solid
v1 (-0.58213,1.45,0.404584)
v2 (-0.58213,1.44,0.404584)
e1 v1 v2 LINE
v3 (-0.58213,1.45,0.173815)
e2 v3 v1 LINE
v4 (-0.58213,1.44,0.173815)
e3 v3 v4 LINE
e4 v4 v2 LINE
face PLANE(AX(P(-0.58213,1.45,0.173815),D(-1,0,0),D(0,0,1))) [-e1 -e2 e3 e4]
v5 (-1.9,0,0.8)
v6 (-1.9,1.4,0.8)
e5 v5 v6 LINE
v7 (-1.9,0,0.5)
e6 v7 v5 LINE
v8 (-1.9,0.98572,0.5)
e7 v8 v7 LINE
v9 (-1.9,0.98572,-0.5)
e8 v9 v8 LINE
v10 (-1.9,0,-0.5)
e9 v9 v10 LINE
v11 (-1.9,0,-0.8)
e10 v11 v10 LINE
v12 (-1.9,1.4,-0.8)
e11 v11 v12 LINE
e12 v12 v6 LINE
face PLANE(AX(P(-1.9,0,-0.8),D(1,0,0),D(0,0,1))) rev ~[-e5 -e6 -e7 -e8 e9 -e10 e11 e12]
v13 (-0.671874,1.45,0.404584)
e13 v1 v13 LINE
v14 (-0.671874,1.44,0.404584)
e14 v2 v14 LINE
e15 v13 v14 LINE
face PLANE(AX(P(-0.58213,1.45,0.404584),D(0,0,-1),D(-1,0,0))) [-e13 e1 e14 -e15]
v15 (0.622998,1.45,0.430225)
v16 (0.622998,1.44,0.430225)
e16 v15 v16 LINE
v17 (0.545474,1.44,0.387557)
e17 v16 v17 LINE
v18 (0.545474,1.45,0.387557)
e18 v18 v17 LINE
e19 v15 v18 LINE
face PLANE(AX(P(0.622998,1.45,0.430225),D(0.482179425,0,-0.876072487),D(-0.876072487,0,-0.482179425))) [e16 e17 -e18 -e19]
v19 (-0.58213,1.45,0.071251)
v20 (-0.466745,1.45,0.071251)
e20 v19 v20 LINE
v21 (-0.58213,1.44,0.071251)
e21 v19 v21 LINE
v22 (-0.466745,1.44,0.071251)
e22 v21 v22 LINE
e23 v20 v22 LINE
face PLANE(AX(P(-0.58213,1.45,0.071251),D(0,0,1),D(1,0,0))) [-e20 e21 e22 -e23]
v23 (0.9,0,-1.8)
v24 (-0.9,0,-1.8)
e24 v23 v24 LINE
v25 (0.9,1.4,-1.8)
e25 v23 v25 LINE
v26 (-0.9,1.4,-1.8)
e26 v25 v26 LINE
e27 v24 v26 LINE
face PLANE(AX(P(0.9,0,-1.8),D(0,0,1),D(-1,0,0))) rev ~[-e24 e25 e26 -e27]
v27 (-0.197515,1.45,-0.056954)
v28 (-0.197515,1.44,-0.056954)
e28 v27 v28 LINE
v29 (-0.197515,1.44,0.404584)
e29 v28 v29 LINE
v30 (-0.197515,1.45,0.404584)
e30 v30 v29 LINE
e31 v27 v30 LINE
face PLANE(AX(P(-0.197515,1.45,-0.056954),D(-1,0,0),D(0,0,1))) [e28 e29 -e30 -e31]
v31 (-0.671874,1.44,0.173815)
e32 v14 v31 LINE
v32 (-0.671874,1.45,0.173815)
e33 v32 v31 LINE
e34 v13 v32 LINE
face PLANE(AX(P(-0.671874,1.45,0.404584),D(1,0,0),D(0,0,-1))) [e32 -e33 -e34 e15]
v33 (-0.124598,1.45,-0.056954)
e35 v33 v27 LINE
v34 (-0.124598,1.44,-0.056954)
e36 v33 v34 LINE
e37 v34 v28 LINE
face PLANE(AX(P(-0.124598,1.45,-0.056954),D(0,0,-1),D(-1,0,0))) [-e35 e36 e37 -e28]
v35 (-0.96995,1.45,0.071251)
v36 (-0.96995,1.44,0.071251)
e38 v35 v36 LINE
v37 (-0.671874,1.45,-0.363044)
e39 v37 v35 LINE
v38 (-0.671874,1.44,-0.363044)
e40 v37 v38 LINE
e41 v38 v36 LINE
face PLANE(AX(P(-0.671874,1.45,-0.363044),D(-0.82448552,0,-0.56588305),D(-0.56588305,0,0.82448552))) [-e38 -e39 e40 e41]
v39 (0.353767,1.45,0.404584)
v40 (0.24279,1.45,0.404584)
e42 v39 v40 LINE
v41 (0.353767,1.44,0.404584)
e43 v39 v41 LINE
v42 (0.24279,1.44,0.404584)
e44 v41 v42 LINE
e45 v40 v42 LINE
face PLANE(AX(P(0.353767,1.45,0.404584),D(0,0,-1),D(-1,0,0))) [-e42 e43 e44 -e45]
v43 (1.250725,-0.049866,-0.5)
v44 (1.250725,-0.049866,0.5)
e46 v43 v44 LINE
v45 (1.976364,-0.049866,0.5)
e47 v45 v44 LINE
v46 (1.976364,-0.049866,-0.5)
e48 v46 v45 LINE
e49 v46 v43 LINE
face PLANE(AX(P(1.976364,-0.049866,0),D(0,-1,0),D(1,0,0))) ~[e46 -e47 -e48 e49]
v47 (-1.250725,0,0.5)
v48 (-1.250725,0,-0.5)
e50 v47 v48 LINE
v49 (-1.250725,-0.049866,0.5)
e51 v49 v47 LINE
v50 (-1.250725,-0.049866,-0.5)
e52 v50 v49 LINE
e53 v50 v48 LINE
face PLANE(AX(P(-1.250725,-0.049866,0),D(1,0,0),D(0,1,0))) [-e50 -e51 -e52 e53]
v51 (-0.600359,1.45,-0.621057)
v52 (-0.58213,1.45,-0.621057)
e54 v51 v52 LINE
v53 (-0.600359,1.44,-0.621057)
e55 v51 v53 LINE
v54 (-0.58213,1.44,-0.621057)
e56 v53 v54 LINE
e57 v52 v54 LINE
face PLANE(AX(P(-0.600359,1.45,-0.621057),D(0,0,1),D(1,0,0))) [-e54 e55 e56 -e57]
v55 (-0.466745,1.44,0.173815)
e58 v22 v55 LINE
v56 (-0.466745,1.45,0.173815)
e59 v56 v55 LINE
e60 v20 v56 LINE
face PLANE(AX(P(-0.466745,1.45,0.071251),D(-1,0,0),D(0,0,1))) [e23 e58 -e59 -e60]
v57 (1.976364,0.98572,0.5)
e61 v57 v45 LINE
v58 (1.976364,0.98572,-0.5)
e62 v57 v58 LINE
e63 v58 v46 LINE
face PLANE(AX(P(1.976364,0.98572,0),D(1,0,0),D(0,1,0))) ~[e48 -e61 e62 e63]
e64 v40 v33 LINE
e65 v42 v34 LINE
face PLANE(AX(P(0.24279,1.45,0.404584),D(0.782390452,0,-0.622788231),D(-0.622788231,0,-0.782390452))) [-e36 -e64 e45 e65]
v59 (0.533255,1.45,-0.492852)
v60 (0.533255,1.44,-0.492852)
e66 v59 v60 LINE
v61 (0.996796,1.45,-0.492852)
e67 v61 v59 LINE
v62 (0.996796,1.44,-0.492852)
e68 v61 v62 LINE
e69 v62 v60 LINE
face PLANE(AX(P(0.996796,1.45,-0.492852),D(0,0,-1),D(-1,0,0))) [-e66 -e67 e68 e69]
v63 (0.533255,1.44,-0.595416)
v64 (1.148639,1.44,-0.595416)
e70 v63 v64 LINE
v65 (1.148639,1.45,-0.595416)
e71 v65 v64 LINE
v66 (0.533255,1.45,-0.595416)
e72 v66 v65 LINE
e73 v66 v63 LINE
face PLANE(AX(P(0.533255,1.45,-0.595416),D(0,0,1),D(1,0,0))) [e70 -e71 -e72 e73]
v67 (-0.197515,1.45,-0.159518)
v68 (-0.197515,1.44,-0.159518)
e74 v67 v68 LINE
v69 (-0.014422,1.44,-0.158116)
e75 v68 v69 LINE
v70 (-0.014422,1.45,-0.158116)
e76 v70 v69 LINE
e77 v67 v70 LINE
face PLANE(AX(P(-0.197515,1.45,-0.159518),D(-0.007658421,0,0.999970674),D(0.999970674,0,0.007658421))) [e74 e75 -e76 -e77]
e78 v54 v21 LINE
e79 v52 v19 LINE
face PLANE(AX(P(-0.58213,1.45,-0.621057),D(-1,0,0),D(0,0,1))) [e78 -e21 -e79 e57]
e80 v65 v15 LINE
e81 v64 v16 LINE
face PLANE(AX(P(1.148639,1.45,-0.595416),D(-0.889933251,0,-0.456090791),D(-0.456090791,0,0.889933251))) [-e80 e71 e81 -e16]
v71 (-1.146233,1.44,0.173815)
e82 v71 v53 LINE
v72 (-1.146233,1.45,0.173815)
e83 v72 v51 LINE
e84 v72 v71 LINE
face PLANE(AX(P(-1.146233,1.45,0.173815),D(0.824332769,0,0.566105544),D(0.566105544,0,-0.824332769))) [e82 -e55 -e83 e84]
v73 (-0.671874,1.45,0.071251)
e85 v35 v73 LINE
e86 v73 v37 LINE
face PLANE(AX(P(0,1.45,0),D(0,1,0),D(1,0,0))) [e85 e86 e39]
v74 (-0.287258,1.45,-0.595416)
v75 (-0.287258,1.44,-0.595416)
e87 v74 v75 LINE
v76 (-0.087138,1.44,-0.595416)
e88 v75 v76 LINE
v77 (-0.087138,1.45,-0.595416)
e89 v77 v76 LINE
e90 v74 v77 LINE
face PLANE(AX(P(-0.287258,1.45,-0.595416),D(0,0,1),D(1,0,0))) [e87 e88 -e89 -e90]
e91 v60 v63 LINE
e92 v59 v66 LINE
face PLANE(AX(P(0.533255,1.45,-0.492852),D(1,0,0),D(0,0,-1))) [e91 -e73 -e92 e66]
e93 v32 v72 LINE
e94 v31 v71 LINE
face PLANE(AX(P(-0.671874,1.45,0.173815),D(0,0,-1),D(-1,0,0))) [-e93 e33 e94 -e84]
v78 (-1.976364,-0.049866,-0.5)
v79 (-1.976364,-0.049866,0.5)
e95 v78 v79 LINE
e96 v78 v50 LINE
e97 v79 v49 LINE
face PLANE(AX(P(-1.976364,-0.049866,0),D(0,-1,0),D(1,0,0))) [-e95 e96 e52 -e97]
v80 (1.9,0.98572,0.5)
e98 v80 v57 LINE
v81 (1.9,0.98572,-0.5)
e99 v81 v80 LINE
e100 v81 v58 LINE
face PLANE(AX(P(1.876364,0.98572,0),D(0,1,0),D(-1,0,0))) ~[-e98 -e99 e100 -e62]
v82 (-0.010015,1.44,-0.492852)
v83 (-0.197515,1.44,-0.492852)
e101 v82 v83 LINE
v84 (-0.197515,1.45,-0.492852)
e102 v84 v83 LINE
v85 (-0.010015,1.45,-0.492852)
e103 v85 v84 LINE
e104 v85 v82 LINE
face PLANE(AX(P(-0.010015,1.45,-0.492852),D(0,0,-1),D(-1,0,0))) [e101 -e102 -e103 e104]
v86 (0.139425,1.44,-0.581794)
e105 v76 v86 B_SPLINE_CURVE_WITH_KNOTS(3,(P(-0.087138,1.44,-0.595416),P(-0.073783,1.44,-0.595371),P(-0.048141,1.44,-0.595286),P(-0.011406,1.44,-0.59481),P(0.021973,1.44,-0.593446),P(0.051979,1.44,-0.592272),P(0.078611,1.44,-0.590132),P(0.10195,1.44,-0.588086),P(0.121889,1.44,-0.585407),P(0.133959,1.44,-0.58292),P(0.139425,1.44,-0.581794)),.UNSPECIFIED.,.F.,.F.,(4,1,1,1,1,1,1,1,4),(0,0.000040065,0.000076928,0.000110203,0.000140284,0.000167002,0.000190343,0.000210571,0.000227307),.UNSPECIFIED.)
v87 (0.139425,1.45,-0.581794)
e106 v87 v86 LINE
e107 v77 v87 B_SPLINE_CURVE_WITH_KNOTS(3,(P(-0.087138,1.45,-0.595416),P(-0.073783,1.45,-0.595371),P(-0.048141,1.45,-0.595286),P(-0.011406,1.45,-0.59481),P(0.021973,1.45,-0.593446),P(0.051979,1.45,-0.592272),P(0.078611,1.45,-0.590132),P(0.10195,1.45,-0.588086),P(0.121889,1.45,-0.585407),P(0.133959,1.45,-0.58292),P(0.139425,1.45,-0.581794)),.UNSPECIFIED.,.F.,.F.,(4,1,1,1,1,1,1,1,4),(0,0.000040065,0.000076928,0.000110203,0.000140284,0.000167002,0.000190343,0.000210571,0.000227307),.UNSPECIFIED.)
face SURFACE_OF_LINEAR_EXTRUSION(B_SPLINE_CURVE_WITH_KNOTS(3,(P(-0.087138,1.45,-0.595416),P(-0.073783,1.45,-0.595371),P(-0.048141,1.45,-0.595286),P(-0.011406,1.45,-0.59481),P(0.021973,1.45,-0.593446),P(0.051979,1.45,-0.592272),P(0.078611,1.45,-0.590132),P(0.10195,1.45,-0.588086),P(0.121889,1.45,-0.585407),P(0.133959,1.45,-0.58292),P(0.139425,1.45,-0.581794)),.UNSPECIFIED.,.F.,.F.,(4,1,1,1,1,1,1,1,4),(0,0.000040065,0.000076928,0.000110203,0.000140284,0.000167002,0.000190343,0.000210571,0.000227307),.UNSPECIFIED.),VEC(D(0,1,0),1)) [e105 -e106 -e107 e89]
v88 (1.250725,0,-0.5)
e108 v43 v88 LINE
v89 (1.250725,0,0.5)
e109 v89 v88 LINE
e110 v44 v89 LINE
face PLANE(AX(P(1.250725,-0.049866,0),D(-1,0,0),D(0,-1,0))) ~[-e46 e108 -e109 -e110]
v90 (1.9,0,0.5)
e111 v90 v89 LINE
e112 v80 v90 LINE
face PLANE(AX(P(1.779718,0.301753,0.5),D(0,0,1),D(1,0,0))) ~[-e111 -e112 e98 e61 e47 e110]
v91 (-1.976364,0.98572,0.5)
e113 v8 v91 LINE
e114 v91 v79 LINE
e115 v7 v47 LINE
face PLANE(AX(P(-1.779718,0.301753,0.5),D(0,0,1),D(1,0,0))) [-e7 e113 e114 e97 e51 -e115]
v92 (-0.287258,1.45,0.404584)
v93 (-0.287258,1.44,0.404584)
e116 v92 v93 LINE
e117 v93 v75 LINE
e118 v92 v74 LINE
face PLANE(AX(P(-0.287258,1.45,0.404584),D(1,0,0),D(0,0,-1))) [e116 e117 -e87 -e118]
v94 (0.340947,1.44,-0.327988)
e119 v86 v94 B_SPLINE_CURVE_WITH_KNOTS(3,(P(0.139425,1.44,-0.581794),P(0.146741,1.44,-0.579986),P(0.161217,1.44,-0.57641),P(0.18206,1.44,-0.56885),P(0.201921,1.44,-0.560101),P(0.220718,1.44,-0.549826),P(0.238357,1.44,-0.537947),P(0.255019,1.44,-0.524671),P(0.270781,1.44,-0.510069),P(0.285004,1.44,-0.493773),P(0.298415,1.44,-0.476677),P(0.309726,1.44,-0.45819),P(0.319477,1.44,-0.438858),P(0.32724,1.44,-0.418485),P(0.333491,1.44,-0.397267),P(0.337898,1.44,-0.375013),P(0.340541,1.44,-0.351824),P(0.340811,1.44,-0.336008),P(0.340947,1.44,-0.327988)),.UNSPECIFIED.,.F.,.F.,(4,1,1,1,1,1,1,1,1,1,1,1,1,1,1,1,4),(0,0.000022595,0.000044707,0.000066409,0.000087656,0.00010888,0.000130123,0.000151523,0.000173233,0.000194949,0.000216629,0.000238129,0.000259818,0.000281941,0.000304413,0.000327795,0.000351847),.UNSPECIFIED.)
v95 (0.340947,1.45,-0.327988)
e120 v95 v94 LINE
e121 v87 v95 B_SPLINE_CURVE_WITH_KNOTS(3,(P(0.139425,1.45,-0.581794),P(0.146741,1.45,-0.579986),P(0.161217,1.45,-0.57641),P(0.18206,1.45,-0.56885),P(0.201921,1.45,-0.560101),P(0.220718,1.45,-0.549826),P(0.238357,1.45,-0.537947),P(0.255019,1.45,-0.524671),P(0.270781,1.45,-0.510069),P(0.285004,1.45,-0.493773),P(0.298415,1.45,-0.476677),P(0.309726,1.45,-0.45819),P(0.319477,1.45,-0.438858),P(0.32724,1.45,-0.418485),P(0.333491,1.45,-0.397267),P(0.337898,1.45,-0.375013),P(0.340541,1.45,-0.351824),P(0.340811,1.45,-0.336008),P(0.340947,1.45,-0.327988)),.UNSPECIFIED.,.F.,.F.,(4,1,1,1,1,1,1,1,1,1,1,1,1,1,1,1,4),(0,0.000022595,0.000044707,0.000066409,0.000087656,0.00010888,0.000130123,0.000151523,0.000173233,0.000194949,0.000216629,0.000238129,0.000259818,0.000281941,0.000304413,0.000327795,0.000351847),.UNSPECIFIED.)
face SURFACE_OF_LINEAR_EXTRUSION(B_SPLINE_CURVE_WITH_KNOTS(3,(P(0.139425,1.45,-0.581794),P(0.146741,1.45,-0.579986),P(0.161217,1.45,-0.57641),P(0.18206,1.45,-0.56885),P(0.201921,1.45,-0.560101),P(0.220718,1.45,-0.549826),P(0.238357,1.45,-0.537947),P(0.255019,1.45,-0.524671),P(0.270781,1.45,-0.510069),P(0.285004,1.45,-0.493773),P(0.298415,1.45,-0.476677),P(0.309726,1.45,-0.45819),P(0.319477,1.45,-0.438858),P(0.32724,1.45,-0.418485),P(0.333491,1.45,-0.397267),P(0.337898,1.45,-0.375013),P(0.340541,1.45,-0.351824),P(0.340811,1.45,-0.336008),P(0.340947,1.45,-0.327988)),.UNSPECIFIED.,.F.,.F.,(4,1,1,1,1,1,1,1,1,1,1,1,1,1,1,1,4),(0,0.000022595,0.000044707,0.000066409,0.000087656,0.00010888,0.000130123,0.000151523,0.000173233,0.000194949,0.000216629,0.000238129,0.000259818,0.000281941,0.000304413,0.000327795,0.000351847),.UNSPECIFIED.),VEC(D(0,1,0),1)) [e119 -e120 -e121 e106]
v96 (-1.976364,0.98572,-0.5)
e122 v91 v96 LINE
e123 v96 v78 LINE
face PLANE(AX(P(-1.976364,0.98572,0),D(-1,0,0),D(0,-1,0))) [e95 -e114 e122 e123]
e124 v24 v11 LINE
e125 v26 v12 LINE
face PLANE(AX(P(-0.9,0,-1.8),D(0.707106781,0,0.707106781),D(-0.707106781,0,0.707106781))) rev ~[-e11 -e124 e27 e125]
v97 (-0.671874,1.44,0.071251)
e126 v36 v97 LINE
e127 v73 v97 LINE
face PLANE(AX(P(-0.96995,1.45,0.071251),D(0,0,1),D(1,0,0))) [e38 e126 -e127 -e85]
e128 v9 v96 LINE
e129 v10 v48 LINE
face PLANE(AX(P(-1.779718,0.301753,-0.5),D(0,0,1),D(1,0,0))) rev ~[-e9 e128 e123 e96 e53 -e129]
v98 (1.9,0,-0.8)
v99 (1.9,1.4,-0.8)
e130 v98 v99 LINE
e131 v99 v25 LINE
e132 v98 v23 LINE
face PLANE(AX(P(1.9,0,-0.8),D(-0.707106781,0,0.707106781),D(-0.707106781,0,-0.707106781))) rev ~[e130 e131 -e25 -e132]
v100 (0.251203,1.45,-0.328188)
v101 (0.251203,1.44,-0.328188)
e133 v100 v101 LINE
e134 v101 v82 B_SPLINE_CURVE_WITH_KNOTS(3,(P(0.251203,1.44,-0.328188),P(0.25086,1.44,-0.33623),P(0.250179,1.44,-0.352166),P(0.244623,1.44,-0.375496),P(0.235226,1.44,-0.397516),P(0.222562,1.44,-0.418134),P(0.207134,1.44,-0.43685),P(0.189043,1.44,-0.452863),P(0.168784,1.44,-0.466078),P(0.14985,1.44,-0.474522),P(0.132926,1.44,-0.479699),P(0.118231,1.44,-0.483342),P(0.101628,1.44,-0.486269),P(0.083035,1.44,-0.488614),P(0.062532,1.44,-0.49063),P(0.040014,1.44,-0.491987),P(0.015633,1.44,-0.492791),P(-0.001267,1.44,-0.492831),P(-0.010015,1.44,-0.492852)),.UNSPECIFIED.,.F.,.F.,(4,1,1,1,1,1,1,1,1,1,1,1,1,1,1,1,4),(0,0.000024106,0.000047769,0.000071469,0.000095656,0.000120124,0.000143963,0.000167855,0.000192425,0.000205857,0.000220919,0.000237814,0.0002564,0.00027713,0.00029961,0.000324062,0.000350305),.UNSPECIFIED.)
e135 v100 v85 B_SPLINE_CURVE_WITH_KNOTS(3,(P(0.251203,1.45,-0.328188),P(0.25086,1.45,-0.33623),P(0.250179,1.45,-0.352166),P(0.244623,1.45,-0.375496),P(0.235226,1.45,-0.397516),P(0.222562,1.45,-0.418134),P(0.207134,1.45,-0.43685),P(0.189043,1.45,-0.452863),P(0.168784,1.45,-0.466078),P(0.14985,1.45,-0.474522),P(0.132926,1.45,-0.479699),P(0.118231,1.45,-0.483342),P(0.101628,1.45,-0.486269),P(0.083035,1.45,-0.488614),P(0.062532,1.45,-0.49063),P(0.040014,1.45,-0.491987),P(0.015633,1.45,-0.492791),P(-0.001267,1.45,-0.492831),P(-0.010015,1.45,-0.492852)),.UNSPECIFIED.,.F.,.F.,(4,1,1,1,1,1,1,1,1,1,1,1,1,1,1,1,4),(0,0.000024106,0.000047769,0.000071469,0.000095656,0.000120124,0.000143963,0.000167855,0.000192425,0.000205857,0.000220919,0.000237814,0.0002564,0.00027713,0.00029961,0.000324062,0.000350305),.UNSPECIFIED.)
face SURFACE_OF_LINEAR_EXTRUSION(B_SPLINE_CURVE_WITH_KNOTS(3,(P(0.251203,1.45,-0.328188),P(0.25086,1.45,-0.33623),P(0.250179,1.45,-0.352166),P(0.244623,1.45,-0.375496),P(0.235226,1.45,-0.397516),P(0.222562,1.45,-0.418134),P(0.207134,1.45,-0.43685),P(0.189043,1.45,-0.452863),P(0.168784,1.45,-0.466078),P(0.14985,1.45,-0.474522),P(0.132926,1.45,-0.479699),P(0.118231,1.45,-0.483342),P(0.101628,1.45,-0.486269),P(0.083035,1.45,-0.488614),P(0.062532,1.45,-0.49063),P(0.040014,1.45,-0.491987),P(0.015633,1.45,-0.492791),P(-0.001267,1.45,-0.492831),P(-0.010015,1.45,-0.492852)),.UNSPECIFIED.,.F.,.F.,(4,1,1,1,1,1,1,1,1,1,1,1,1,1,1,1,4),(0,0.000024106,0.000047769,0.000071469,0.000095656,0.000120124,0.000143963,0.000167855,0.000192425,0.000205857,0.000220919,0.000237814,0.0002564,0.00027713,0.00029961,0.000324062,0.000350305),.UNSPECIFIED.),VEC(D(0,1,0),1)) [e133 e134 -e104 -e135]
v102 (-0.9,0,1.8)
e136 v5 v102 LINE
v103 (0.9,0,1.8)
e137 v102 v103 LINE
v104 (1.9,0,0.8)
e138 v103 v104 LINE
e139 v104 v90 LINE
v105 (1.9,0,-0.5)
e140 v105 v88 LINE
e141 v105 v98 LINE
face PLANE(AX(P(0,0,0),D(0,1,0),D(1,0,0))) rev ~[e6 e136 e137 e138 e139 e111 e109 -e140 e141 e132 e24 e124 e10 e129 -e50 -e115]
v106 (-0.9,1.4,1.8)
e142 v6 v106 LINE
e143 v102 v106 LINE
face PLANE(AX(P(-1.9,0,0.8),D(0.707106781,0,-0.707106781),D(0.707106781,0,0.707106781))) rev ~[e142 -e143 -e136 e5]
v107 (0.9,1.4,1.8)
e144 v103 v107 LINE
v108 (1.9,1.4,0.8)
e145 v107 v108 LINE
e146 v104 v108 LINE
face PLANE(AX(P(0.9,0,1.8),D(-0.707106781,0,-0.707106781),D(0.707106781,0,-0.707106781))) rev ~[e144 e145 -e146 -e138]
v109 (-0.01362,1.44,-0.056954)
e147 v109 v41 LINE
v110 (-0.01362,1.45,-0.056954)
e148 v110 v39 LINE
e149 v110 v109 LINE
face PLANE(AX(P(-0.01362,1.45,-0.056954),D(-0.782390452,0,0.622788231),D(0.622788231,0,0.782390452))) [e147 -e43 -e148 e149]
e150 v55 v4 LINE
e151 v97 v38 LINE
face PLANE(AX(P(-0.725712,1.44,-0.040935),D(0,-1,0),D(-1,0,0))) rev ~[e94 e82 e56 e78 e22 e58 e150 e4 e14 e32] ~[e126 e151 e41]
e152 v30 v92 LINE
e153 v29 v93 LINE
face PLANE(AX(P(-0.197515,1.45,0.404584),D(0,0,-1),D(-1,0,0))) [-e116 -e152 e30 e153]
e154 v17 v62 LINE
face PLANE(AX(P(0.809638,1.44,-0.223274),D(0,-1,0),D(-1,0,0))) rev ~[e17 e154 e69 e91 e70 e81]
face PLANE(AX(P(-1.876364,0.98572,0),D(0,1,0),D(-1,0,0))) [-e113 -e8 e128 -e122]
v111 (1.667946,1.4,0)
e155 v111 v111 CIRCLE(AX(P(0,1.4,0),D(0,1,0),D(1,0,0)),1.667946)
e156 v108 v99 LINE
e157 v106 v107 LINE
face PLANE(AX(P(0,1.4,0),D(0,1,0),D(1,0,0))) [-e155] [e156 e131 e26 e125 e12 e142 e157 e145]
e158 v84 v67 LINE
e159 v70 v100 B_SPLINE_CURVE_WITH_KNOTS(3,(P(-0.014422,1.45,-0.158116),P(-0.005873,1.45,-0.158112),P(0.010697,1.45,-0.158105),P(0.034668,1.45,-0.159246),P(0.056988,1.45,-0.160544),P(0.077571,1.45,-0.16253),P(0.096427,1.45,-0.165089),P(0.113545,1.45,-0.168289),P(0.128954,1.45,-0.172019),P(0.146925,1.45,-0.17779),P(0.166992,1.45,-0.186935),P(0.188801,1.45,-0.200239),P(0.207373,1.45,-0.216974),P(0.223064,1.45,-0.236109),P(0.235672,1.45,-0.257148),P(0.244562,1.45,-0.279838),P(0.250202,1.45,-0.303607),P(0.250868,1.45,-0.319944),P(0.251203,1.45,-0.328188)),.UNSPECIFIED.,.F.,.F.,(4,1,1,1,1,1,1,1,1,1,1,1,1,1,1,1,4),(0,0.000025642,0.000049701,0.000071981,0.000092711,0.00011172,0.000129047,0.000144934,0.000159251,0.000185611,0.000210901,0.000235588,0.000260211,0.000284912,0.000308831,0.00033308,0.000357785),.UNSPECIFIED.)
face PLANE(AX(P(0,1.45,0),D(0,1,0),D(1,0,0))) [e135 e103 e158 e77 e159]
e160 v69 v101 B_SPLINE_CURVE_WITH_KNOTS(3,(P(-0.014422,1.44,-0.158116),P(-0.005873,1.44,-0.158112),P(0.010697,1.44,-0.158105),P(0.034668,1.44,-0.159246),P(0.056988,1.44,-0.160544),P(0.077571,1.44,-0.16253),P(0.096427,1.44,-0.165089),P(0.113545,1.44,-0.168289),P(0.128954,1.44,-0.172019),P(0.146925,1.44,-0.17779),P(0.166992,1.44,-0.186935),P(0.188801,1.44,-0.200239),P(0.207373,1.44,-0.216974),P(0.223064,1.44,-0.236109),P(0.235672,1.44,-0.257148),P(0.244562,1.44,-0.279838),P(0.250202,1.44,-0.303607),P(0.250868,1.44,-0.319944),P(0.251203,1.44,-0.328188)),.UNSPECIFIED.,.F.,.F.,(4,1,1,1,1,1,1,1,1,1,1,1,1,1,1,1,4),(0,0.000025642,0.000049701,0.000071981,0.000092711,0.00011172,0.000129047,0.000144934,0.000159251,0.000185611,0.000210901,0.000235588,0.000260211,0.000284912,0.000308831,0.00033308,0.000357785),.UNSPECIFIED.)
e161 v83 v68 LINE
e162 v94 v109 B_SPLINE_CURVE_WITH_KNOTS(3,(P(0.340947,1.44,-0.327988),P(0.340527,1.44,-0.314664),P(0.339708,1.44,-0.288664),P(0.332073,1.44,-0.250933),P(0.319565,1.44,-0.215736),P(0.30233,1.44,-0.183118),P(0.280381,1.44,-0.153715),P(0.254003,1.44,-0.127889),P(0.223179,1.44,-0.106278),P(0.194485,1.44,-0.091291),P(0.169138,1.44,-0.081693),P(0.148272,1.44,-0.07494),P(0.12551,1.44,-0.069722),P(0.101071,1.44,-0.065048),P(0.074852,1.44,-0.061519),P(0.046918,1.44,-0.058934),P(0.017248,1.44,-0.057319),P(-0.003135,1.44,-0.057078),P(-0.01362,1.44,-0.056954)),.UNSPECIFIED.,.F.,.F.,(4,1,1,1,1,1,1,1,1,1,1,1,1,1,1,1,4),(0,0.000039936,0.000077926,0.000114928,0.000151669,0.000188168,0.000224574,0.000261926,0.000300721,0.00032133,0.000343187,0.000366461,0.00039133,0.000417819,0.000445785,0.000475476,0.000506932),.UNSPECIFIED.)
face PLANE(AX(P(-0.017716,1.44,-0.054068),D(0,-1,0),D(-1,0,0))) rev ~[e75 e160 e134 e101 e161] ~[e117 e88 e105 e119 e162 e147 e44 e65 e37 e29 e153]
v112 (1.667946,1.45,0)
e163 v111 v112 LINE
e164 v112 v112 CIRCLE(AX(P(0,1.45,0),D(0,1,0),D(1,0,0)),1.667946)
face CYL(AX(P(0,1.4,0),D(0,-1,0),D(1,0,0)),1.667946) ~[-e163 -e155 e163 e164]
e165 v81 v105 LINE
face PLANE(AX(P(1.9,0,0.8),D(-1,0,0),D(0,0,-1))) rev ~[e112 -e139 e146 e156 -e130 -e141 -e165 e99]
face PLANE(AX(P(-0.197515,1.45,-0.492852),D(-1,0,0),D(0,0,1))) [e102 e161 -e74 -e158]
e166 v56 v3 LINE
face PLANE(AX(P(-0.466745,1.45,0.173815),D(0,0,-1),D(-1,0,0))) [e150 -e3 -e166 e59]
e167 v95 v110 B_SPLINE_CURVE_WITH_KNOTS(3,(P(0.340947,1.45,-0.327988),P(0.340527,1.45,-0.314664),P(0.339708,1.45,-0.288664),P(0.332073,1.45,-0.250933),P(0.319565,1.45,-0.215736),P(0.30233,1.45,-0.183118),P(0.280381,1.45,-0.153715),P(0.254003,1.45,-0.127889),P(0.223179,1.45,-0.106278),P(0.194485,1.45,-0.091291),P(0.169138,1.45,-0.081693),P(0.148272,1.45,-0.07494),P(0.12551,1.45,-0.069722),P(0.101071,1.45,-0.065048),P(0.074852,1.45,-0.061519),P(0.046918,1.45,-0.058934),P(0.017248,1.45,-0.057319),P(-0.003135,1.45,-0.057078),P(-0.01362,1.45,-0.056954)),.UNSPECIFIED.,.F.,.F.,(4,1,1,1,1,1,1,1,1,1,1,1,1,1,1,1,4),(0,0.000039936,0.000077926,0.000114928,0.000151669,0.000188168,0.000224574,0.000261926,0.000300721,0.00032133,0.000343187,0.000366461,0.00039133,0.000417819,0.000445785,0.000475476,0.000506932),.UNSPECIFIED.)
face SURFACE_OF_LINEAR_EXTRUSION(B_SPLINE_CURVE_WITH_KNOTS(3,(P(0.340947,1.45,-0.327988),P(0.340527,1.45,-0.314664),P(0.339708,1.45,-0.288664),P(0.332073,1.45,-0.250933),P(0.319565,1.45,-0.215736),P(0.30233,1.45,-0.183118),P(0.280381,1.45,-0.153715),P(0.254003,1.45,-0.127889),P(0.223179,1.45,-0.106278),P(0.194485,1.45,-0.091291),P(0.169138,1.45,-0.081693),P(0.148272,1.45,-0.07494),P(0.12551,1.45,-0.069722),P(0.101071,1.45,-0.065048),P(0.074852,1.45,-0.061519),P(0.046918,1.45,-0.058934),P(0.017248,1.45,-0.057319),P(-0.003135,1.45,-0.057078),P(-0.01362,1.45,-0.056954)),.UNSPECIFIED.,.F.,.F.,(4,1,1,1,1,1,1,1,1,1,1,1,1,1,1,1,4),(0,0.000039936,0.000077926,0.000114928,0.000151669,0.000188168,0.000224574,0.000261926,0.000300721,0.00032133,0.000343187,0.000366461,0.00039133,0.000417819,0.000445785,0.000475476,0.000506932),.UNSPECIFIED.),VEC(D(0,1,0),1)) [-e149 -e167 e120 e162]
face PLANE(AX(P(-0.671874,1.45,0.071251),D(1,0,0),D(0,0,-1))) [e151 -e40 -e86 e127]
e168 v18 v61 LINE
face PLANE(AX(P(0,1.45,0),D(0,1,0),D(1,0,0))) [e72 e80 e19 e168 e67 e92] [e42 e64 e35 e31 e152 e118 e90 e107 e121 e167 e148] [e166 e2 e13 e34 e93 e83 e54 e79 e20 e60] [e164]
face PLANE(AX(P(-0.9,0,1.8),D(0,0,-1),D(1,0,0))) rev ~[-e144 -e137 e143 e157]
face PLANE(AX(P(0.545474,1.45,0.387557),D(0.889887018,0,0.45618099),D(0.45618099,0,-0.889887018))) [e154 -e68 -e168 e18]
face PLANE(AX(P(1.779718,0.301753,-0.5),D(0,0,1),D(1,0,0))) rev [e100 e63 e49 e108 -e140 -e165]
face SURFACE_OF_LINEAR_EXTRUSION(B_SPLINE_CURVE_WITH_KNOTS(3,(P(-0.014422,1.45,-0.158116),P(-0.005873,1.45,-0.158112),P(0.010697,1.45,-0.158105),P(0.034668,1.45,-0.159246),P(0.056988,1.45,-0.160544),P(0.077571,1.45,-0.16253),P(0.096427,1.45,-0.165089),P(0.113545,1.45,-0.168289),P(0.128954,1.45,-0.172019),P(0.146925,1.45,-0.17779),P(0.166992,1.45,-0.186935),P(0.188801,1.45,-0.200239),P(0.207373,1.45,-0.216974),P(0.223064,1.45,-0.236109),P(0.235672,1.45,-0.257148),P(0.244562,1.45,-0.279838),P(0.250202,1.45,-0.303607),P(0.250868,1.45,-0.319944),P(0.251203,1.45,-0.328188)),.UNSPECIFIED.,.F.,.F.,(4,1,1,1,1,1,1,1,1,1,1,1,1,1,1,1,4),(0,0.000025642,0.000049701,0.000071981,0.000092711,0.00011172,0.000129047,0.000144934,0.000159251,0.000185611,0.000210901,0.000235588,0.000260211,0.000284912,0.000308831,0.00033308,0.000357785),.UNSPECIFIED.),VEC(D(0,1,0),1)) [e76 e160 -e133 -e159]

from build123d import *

# Parameters (mm, degrees)
BOSS_EXTRUDE1_DEPTH = 1.4
SKETCH2_R           = 1.667945685
BOSS_EXTRUDE2_DEPTH = 0.05
EXTRUDE_THIN1_DEPTH = 0.5
CUT_EXTRUDE1_DEPTH  = 0.01


with BuildPart() as part:
    # Sketch1 → Boss-Extrude1 (new body)
    with BuildSketch(Plane(origin=(0, 0, 0), x_dir=(1, 0, 0), z_dir=(0, 1, 0))):
        Polygon((-0.9, 1.8), (-1.9, 0.8), (-1.9, -0.8), (-0.9, -1.8), (0.9, -1.8), (1.9, -0.8), (1.9, 0.8), (0.9, 1.8), align=None)
    extrude(amount=BOSS_EXTRUDE1_DEPTH)

    # Sketch2 → Boss-Extrude2 (add)
    with BuildSketch(Plane(origin=(0, 1.4, 0), x_dir=(1, 0, 0), z_dir=(0, 1, 0))):
        Circle(SKETCH2_R)
    extrude(amount=BOSS_EXTRUDE2_DEPTH)

    # Sketch3 → Extrude-Thin1 (add, symmetric)
    with BuildSketch(Plane.XY):
        Polygon((-1.976364114, 0.98571962), (-1.976364114, -0.049866004), (-1.250724891, -0.049866004), (-1.250724891, 0.050133996), (-1.876364114, 0.050133996), (-1.876364114, 0.98571962), align=None)
    extrude_thin1 = extrude(amount=EXTRUDE_THIN1_DEPTH, both=True)

    # Mirror1: Extrude-Thin1 across plane
    add(extrude_thin1.mirror(Plane(origin=(0, 0, 0), x_dir=(0, 0, 1), z_dir=(1, 0, 0))))

    # Sketch4 → Cut-Extrude1 (cut)
    with BuildSketch(Plane(origin=(0, 1.45, 0), x_dir=(1, 0, 0), z_dir=(0, 1, 0))):
        Polygon((-0.600359123, 0.621056828), (-0.582129956, 0.621056828), (-0.582129956, -0.071250864), (-0.466745341, -0.071250864), (-0.466745341, -0.173814967), (-0.582129956, -0.173814967), (-0.582129956, -0.404584198), (-0.671873546, -0.404584198), (-0.671873546, -0.173814967), (-1.146232521, -0.173814967), align=None)
        Polygon((-0.671873546, -0.071250864), (-0.671873546, 0.363044008), (-0.969950469, -0.071250864), align=None, mode=Mode.SUBTRACT)
        with BuildLine():
            Line((-0.287258162, 0.595415802), (-0.087137969, 0.595415802))
            add(Edge.make_bspline(
                [(-0.087137969, 0.595415802), (-0.073783361, 0.595371349), (-0.048141034, 0.595285994), (-0.011405814, 0.594810062), (0.021973357, 0.593445961), (0.051979025, 0.59227208), (0.078610641, 0.590131525), (0.101949867, 0.588085626), (0.121889209, 0.585407437), (0.133959452, 0.582920173), (0.139424531, 0.581794008)],
                knots=[0, 0, 0, 0, 4.0065e-05, 7.6928e-05, 0.000110203, 0.000140284, 0.000167002, 0.000190343, 0.000210571, 0.000227307, 0.000227307, 0.000227307, 0.000227307], degree=3))
            add(Edge.make_bspline(
                [(0.139424531, 0.581794008), (0.146740709, 0.57998636), (0.161216992, 0.576409628), (0.182059868, 0.568849742), (0.201921103, 0.560101278), (0.220718196, 0.549825929), (0.238356993, 0.537947421), (0.255019368, 0.524670814), (0.270780929, 0.510068755), (0.285004252, 0.493773086), (0.298415409, 0.476676941), (0.309726446, 0.458190153), (0.319476868, 0.438858288), (0.327239873, 0.41848474), (0.333490723, 0.397267091), (0.33789822, 0.375013149), (0.340541416, 0.351824299), (0.340810518, 0.336007754), (0.340946967, 0.327987918)],
                knots=[0, 0, 0, 0, 2.2595e-05, 4.4707e-05, 6.6409e-05, 8.7656e-05, 0.00010888, 0.000130123, 0.000151523, 0.000173233, 0.000194949, 0.000216629, 0.000238129, 0.000259818, 0.000281941, 0.000304413, 0.000327795, 0.000351847, 0.000351847, 0.000351847, 0.000351847], degree=3))
            add(Edge.make_bspline(
                [(0.340946967, 0.327987918), (0.340527253, 0.314663602), (0.339708283, 0.288664411), (0.332072539, 0.250932731), (0.319564962, 0.215735784), (0.302329736, 0.183117887), (0.280381315, 0.153714846), (0.254002803, 0.127889002), (0.223179485, 0.106277598), (0.194485395, 0.091291082), (0.169138481, 0.081693108), (0.14827182, 0.074939863), (0.125509827, 0.069722159), (0.101070588, 0.065047835), (0.074852401, 0.06151878), (0.046918104, 0.058934039), (0.017247775, 0.057318596), (-0.003134816, 0.057078023), (-0.013620341, 0.056954264)],
                knots=[0, 0, 0, 0, 3.9936e-05, 7.7926e-05, 0.000114928, 0.000151669, 0.000188168, 0.000224574, 0.000261926, 0.000300721, 0.00032133, 0.000343187, 0.000366461, 0.00039133, 0.000417819, 0.000445785, 0.000475476, 0.000506932, 0.000506932, 0.000506932, 0.000506932], degree=3))
            Line((-0.013620341, 0.056954264), (0.353767479, -0.404584198))
            Line((0.353767479, -0.404584198), (0.242789915, -0.404584198))
            Line((0.242789915, -0.404584198), (-0.124597905, 0.056954264))
            Line((-0.124597905, 0.056954264), (-0.197514572, 0.056954264))
            Line((-0.197514572, 0.056954264), (-0.197514572, -0.404584198))
            Line((-0.197514572, -0.404584198), (-0.287258162, -0.404584198))
            Line((-0.287258162, -0.404584198), (-0.287258162, 0.595415802))
        make_face()
        with BuildLine():
            Line((-0.197514572, 0.4928517), (-0.197514572, 0.159518367))
            Line((-0.197514572, 0.159518367), (-0.014421623, 0.158116123))
            add(Edge.make_bspline(
                [(-0.014421623, 0.158116123), (-0.005873041, 0.158112341), (0.010696547, 0.158105011), (0.034668166, 0.15924609), (0.056988198, 0.160544181), (0.07757127, 0.162529708), (0.096426577, 0.165088585), (0.113544695, 0.168289438), (0.128953567, 0.172018599), (0.146924578, 0.177790492), (0.166992158, 0.186935069), (0.188801147, 0.200239497), (0.207373243, 0.216973531), (0.223064061, 0.236108804), (0.23567247, 0.257147732), (0.244561629, 0.279838123), (0.250202326, 0.303607151), (0.250867625, 0.319943754), (0.251203377, 0.328188238)],
                knots=[0, 0, 0, 0, 2.5642e-05, 4.9701e-05, 7.1981e-05, 9.2711e-05, 0.00011172, 0.000129047, 0.000144934, 0.000159251, 0.000185611, 0.000210901, 0.000235588, 0.000260211, 0.000284912, 0.000308831, 0.00033308, 0.000357785, 0.000357785, 0.000357785, 0.000357785], degree=3))
            add(Edge.make_bspline(
                [(0.251203377, 0.328188238), (0.250859914, 0.336230117), (0.250179295, 0.352166185), (0.244622504, 0.375496445), (0.235225538, 0.397515573), (0.222562041, 0.418133998), (0.207133711, 0.436849922), (0.189042908, 0.452863395), (0.168784281, 0.466077527), (0.149849653, 0.474521636), (0.132925592, 0.479698737), (0.118231403, 0.483341927), (0.101628124, 0.486268918), (0.083035136, 0.488614078), (0.062531813, 0.490629776), (0.040014484, 0.491987427), (0.015632547, 0.492791389), (-0.001266577, 0.492831128), (-0.010014572, 0.4928517)],
                knots=[0, 0, 0, 0, 2.4106e-05, 4.7769e-05, 7.1469e-05, 9.5656e-05, 0.000120124, 0.000143963, 0.000167855, 0.000192425, 0.000205857, 0.000220919, 0.000237814, 0.0002564, 0.00027713, 0.00029961, 0.000324062, 0.000350305, 0.000350305, 0.000350305, 0.000350305], degree=3))
            Line((-0.010014572, 0.4928517), (-0.197514572, 0.4928517))
        make_face(mode=Mode.SUBTRACT)
        Polygon((0.533254659, 0.595415802), (1.148639274, 0.595415802), (0.622998249, -0.430225223), (0.54547421, -0.387556954), (0.996796326, 0.4928517), (0.533254659, 0.4928517), align=None)
    extrude(amount=-CUT_EXTRUDE1_DEPTH, mode=Mode.SUBTRACT)


solid = part.part
